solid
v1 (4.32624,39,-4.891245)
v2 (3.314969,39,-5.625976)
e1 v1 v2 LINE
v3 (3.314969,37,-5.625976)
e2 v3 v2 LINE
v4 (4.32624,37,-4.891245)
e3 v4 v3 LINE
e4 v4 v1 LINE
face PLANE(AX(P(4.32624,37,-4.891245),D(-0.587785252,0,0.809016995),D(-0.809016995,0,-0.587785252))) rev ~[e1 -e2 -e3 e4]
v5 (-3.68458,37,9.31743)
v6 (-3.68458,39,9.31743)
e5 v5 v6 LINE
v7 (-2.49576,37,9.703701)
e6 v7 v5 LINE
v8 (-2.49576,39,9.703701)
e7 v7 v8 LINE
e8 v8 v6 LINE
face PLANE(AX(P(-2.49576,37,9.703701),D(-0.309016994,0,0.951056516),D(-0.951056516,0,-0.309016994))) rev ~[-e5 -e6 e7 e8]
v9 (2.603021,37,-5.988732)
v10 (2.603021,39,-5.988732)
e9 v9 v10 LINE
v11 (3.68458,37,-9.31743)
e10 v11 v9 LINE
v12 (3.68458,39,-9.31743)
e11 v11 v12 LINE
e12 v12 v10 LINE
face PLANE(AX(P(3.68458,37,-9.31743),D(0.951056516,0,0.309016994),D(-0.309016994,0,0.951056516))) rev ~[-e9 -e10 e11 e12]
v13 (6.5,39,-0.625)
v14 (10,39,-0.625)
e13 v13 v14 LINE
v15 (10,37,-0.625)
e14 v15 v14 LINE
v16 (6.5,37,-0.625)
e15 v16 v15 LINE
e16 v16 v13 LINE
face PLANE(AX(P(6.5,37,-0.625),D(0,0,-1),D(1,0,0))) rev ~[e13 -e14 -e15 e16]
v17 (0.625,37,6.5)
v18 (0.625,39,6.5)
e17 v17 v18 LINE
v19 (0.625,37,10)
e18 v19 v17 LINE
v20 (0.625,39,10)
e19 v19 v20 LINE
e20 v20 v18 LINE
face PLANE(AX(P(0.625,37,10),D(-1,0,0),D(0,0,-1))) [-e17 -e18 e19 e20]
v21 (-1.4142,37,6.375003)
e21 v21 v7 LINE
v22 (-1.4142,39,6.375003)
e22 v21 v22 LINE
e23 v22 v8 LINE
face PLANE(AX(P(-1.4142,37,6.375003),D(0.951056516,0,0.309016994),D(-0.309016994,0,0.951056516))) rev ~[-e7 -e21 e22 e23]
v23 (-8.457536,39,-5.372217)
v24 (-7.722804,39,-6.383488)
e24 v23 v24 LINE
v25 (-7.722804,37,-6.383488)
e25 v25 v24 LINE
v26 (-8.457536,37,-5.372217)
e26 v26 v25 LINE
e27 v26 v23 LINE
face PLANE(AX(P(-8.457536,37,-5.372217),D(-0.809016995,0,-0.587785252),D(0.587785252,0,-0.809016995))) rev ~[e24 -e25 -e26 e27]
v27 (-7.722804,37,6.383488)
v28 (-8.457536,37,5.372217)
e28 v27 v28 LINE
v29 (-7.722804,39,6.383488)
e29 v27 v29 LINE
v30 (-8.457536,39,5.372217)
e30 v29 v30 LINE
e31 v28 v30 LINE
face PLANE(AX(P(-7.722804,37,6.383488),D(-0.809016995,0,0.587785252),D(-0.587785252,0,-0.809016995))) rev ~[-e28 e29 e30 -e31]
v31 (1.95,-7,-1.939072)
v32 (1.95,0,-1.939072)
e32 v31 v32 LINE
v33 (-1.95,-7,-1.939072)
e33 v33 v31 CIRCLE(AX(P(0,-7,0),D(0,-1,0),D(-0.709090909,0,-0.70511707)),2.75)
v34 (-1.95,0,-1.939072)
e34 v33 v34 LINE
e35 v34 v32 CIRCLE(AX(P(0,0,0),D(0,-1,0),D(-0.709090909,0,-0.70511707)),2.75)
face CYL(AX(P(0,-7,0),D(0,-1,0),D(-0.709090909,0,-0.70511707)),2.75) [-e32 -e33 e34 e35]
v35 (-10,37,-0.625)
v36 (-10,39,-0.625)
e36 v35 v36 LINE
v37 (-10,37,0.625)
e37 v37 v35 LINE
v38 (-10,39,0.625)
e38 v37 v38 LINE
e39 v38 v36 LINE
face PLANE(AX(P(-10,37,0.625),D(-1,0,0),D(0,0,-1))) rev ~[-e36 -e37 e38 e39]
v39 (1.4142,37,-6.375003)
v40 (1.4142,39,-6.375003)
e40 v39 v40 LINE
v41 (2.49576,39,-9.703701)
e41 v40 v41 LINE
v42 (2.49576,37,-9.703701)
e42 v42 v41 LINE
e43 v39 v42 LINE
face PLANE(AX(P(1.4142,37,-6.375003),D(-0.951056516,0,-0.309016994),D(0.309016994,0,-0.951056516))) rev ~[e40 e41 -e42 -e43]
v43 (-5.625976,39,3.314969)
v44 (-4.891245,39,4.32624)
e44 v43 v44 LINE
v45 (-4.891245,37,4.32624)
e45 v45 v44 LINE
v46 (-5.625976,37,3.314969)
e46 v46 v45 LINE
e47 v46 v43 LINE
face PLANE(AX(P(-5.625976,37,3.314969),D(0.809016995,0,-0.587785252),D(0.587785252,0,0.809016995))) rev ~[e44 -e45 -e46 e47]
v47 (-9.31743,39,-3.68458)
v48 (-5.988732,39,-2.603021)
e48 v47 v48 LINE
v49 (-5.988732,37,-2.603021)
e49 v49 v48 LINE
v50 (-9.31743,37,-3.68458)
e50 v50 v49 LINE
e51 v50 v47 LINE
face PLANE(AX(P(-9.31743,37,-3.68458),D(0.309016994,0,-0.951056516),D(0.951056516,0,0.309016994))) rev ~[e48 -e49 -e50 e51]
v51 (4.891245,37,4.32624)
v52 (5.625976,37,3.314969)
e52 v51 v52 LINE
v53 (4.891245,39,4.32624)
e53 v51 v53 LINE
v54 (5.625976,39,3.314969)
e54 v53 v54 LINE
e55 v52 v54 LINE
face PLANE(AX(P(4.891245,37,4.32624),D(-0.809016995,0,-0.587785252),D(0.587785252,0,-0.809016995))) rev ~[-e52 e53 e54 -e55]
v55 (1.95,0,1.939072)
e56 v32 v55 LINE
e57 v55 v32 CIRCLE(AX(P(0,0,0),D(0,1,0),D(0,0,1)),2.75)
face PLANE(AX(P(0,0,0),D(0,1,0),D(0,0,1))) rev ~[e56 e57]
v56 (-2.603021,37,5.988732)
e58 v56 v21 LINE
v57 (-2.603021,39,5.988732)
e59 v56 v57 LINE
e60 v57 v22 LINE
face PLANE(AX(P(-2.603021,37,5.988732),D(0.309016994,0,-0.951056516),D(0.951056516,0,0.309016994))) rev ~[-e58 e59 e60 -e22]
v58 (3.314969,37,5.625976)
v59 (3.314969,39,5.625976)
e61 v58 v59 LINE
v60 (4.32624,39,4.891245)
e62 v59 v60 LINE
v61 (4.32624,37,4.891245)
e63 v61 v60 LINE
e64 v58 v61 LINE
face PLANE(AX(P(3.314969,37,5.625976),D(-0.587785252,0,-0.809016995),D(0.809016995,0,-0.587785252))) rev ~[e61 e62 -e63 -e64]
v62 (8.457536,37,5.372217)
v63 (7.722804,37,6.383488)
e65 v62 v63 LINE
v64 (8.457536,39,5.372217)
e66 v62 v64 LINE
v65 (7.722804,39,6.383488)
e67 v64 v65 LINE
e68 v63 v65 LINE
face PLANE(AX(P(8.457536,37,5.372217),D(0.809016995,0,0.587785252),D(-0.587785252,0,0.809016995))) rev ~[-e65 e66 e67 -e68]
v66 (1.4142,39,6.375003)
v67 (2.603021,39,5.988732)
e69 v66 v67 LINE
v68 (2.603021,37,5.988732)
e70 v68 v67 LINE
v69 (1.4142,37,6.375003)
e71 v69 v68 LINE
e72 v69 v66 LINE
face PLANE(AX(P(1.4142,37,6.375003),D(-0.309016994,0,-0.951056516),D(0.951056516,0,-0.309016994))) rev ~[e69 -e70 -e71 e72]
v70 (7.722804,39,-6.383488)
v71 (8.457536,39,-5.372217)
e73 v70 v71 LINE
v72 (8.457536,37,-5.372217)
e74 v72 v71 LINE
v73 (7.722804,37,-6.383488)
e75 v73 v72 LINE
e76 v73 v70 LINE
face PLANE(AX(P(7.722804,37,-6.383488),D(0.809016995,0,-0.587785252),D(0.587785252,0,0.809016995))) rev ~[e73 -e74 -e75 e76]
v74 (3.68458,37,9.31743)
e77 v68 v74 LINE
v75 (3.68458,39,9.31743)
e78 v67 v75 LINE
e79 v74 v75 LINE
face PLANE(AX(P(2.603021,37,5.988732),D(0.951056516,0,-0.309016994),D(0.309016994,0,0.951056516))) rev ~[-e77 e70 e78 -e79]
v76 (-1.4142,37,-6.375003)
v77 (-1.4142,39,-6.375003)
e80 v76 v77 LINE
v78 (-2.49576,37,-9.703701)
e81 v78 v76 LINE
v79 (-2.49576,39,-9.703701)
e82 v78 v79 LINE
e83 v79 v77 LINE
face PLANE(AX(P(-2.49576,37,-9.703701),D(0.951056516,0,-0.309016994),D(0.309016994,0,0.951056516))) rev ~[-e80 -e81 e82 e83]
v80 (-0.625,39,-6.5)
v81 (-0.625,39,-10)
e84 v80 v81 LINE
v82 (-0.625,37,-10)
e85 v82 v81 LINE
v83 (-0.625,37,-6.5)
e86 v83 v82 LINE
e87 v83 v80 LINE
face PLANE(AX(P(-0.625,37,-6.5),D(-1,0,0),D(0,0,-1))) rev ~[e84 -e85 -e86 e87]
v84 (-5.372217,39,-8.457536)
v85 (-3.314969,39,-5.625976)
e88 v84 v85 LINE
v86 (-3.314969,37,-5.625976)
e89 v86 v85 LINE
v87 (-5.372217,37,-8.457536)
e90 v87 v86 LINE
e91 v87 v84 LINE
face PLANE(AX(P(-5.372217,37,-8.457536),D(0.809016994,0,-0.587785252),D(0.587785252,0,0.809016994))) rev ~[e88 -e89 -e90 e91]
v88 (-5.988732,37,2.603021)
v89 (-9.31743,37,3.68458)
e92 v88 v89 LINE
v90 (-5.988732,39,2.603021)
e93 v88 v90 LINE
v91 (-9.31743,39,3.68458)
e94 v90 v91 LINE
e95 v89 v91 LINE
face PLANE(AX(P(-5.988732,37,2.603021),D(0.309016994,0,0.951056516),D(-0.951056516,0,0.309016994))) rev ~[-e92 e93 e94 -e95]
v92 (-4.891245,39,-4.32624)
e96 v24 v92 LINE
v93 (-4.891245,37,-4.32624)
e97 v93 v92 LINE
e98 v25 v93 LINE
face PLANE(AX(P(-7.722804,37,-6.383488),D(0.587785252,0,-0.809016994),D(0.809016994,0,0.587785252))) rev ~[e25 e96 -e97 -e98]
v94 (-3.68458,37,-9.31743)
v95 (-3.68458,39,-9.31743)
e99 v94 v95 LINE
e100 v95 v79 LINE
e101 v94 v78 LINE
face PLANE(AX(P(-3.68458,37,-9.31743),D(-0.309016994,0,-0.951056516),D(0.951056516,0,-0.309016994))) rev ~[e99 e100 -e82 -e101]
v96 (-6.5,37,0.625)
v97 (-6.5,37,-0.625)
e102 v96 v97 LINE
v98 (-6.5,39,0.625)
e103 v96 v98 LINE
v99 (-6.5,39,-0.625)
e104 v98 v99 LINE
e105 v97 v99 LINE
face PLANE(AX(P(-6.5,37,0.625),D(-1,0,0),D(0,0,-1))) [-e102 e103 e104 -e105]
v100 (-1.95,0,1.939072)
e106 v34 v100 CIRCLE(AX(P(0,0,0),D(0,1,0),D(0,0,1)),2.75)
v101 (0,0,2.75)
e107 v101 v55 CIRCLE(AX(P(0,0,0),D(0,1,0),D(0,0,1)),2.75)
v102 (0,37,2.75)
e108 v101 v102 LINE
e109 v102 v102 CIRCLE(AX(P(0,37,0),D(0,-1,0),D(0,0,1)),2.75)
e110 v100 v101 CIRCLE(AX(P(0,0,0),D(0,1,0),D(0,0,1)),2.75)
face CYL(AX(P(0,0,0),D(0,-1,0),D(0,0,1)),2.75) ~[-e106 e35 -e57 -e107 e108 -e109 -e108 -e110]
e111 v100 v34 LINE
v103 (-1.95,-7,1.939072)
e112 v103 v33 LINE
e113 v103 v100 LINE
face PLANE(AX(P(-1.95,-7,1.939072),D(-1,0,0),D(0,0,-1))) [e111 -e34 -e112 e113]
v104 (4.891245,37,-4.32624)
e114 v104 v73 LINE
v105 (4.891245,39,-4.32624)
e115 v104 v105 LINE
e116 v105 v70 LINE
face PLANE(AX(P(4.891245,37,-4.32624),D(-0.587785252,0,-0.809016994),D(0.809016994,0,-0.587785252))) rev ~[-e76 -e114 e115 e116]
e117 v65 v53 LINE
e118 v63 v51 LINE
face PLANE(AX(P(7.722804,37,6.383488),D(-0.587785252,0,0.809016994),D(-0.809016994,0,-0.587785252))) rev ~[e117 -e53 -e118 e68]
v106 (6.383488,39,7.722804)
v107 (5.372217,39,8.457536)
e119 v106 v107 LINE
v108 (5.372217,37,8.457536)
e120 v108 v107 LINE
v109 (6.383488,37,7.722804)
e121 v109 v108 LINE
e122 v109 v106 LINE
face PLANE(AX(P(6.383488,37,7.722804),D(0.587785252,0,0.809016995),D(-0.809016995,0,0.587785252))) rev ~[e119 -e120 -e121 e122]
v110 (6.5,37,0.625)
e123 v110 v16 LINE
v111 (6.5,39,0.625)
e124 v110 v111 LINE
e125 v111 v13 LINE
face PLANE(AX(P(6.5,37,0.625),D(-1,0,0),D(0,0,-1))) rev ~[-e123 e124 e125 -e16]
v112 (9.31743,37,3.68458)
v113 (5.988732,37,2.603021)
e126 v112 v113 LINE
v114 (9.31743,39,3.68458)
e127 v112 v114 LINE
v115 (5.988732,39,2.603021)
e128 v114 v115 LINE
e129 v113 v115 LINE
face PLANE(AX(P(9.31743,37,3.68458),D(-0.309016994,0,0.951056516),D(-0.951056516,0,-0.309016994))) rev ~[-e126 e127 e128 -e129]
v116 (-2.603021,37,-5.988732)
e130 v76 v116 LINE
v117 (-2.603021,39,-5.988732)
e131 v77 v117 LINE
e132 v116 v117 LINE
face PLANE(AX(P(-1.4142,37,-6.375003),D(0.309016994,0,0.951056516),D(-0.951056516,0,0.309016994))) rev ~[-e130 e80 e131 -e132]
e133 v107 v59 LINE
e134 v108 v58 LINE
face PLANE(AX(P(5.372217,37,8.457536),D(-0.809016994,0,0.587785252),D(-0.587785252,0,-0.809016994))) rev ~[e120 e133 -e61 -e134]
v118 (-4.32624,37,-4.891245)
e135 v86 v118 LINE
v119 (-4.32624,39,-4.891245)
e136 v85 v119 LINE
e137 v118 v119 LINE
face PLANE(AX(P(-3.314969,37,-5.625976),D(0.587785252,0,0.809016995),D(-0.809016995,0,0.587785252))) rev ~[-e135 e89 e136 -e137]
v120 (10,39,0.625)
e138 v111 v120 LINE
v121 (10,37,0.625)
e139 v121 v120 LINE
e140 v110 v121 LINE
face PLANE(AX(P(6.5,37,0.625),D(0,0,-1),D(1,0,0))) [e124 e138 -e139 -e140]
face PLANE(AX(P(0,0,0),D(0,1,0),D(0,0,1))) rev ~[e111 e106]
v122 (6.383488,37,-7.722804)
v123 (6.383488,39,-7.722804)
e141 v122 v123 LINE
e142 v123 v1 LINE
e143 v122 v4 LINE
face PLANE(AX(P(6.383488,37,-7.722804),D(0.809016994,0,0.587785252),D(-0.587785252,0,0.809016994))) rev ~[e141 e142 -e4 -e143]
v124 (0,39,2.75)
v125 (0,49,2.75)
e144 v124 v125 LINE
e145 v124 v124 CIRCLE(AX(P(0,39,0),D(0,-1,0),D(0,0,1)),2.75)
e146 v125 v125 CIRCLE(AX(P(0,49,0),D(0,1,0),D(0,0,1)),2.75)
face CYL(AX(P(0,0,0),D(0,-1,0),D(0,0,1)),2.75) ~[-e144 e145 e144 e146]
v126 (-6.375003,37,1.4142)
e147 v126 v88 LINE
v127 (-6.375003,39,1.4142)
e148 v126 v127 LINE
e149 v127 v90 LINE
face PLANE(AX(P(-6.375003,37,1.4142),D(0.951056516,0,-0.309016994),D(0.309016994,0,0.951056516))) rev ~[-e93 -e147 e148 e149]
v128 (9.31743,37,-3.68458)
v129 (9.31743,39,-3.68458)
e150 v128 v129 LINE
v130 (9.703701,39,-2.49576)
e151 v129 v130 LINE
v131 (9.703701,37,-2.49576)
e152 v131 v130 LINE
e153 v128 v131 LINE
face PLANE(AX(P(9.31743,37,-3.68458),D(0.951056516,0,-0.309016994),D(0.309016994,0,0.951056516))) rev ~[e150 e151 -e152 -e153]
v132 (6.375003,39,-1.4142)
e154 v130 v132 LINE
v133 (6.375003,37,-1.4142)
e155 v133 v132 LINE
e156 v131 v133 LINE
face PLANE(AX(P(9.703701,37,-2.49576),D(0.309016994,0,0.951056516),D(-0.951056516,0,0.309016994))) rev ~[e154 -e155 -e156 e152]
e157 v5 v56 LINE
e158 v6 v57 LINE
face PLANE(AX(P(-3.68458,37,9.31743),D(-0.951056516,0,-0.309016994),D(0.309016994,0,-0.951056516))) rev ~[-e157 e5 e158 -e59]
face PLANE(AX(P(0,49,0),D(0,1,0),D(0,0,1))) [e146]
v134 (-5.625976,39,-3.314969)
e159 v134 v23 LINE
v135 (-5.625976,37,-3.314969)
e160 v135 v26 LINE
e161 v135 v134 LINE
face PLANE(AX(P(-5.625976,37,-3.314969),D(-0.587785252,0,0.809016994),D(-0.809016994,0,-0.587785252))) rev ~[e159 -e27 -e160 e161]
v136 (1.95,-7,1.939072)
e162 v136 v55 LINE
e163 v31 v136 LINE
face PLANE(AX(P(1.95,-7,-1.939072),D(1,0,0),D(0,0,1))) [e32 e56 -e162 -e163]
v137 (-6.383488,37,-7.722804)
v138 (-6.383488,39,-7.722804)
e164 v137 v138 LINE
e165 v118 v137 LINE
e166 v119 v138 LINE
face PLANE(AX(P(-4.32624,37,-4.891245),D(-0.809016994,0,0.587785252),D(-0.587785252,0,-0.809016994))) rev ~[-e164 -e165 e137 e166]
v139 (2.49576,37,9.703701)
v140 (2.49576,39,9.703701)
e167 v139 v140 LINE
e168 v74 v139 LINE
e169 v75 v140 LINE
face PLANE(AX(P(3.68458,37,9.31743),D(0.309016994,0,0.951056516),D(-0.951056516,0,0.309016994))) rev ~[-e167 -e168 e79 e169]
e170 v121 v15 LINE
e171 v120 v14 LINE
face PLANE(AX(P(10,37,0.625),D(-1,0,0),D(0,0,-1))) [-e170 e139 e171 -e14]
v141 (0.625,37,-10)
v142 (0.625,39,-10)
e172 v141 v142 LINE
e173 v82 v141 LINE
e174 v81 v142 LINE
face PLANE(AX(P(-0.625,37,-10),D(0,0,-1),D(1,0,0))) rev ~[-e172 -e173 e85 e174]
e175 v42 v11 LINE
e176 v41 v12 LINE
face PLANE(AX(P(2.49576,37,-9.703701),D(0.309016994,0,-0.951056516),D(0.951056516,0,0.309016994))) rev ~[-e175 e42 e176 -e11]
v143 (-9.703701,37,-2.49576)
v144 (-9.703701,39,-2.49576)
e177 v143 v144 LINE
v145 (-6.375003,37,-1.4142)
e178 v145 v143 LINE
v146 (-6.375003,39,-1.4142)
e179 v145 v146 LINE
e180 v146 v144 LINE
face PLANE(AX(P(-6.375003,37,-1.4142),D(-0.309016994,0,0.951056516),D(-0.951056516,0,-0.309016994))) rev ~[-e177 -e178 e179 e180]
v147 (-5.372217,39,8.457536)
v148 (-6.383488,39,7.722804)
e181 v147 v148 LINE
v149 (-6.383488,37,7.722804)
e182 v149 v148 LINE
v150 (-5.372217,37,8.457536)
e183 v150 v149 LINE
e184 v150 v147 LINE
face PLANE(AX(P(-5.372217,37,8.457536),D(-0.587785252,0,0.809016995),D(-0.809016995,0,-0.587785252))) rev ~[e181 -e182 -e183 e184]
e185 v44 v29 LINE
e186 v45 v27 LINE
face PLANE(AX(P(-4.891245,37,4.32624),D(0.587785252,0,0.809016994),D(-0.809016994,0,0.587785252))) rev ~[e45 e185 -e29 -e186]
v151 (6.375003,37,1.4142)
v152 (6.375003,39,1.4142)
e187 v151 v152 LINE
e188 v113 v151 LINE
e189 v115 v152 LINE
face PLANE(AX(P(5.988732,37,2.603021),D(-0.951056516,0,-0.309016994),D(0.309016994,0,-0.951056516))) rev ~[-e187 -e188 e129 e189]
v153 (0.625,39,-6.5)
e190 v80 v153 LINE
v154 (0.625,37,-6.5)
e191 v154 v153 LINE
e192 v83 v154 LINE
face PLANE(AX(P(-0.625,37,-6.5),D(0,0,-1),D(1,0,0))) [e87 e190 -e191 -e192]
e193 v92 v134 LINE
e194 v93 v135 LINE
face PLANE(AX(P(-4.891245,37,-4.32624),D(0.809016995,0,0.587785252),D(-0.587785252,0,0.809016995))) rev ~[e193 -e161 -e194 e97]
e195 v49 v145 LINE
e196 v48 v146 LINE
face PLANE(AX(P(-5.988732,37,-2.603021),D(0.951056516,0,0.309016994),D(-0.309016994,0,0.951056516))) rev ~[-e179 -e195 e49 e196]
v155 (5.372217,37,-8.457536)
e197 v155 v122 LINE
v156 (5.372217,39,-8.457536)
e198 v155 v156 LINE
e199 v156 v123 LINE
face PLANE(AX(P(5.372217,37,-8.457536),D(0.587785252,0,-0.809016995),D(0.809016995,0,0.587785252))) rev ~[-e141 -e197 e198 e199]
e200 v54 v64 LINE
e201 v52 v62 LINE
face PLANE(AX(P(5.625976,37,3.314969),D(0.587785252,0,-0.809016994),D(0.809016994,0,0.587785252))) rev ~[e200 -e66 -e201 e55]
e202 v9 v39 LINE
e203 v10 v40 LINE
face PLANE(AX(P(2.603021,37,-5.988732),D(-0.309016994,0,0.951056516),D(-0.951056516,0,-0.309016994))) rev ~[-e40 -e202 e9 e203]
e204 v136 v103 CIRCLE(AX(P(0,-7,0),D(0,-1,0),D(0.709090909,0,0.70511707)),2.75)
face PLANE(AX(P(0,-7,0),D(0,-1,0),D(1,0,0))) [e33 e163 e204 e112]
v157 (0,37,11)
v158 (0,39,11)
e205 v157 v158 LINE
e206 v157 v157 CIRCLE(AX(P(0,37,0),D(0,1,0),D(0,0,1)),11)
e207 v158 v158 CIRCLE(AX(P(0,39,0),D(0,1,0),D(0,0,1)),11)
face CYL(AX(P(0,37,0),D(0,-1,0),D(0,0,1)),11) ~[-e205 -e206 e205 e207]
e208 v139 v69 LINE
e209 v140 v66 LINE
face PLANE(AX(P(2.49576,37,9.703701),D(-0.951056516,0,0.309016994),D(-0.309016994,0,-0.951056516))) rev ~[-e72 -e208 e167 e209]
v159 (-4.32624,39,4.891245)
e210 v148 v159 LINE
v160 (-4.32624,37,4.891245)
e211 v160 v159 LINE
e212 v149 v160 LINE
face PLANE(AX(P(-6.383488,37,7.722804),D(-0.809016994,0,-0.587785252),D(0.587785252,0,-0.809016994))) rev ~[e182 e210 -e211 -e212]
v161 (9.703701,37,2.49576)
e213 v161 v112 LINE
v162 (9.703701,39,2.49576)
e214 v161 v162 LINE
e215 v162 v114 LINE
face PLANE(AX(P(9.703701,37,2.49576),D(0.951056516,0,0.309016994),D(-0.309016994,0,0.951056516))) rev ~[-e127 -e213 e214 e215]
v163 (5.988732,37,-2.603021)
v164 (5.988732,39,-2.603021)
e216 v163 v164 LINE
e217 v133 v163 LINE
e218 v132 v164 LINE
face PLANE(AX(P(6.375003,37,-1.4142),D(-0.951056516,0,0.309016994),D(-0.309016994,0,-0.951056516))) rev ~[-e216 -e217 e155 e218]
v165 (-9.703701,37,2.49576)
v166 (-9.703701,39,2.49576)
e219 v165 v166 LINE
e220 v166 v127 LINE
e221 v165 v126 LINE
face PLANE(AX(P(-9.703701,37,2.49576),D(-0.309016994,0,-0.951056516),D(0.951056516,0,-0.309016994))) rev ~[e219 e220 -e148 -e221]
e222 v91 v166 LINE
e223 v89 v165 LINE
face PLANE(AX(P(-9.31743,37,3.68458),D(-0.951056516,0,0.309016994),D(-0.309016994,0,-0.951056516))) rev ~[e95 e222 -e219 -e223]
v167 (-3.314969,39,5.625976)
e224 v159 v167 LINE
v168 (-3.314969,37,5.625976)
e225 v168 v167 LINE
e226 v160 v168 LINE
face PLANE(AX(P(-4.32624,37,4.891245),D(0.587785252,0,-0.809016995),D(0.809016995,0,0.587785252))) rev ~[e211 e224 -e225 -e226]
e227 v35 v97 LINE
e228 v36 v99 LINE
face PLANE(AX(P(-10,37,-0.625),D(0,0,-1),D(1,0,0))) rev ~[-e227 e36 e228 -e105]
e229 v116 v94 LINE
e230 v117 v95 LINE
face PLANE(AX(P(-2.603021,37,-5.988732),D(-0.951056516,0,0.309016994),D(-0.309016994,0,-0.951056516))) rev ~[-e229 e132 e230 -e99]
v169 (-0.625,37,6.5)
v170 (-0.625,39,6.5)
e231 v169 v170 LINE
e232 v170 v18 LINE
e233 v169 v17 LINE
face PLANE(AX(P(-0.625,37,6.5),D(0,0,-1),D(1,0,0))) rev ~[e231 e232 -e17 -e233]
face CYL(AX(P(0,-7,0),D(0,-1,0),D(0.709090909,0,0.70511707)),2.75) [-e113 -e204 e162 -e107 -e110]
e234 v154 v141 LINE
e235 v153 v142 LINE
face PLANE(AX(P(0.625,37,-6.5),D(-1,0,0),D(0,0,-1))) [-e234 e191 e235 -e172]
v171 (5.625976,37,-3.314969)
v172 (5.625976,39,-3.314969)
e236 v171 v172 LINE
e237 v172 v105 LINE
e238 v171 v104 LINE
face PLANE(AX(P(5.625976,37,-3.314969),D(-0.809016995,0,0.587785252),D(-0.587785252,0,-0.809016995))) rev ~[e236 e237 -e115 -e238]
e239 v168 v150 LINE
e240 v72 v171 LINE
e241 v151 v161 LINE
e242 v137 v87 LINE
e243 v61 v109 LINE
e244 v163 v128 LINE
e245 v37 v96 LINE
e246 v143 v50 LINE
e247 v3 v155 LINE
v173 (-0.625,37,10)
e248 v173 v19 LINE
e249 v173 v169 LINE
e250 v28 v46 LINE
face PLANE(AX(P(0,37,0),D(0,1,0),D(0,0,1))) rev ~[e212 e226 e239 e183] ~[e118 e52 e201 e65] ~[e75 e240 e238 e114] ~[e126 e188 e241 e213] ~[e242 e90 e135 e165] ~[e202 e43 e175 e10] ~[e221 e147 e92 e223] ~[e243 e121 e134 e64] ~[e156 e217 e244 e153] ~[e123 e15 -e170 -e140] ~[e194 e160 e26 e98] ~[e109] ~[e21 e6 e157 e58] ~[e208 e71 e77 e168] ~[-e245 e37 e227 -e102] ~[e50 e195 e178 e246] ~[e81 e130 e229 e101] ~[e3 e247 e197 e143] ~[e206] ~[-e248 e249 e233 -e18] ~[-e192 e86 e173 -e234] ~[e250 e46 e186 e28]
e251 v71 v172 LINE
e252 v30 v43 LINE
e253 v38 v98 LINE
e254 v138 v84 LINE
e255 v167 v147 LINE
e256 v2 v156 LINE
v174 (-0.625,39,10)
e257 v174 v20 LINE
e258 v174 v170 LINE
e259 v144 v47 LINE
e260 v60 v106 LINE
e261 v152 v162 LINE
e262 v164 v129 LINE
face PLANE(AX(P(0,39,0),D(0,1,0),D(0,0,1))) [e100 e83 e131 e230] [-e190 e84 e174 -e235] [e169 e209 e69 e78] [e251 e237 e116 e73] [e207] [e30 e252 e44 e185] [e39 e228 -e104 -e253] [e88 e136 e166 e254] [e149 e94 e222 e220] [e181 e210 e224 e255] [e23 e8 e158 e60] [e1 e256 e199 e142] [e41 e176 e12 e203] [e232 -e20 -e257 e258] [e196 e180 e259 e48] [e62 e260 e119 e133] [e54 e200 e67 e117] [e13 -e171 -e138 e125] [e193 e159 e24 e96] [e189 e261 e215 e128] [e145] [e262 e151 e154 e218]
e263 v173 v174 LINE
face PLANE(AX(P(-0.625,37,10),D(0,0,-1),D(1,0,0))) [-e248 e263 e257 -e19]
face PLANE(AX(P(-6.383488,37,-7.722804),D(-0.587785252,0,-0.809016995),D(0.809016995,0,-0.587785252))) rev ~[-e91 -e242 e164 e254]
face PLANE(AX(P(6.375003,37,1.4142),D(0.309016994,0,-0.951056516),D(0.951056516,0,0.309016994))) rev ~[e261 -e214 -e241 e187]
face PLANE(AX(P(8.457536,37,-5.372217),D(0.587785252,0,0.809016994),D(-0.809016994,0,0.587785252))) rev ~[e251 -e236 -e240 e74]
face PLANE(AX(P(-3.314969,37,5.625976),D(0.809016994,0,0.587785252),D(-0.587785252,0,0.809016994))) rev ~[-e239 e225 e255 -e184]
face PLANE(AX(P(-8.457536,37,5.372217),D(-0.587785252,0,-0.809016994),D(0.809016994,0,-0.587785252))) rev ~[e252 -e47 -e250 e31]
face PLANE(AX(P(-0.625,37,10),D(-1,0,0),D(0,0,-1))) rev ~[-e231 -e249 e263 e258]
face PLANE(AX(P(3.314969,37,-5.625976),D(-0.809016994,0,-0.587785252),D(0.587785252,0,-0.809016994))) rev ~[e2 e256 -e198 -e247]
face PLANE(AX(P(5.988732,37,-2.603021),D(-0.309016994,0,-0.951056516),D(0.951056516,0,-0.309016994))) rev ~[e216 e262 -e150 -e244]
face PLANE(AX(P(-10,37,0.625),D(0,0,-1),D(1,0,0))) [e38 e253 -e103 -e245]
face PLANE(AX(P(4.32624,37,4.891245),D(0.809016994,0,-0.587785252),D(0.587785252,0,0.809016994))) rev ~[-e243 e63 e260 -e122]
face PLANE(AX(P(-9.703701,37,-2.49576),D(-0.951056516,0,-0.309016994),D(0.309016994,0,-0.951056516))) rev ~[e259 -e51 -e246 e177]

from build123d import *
from build123d.topology import SkipClean

# Parameters (mm, degrees)
SKETCH_1_R      = 2.75
EXTRUDE_1_DEPTH = 49
EXTRUDE_START   = 7
EXTRUDE_2_DEPTH = 7
EXTRUDE_START_2 = -12
SKETCH_6_R      = 11
SKETCH_6_W      = 1.25
SKETCH_6_H      = 3.5
SKETCH_6_W_2    = 3.5
SKETCH_6_H_2    = 1.25
EXTRUDE_4_DEPTH = 2


with BuildPart() as part:
    # 草图1 → 凸台-拉伸1 (new body)
    with BuildSketch(Plane(origin=(0, 0, 0), x_dir=(1, 0, 0), z_dir=(0, 1, 0))):
        Circle(SKETCH_1_R)
    extrude(amount=EXTRUDE_1_DEPTH)

    # 草图2 → 凸台-拉伸2 (add)
    with SkipClean():  # the faces are left unmerged after this step: merging them gives an invalid solid
        with BuildSketch(Plane.XZ.offset(EXTRUDE_START)):
            with BuildLine():
                Line((-1.95, 1.939071943), (-1.95, -1.939071943))
                ThreePointArc((-1.95, -1.939071943), (0, -2.75), (1.95, -1.939071943))
                Line((1.95, -1.939071943), (1.95, 1.939071943))
                ThreePointArc((1.95, 1.939071943), (0, 2.75), (-1.95, 1.939071943))
            make_face()
        extrude(amount=-EXTRUDE_2_DEPTH)

    # 草图6 → 凸台-拉伸4 (add)
    with SkipClean():  # the faces are left unmerged after this step: merging them gives an invalid solid
        with BuildSketch(Plane(origin=(0, 49, 0), x_dir=(1, 0, 0), z_dir=(0, 1, 0)).offset(EXTRUDE_START_2)):
            Circle(SKETCH_6_R)
            Polygon((2.495759621, 9.703700784), (3.684580266, 9.317429541), (2.603020786, 5.988731734), (1.414200141, 6.375002977), align=None, mode=Mode.SUBTRACT)
            with Locations((0, 8.25)):
                Rectangle(SKETCH_6_W, SKETCH_6_H, mode=Mode.SUBTRACT)
            Polygon((5.372216901, 8.457535726), (6.383488144, 7.722804161), (4.326239761, 4.891244681), (3.314968518, 5.625976246), align=None, mode=Mode.SUBTRACT)
            Polygon((7.722804161, 6.383488144), (8.457535726, 5.372216901), (5.625976246, 3.314968518), (4.891244681, 4.326239761), align=None, mode=Mode.SUBTRACT)
            Polygon((9.317429541, 3.684580266), (9.703700784, 2.495759621), (6.375002977, 1.414200141), (5.988731734, 2.603020786), align=None, mode=Mode.SUBTRACT)
            with Locations((8.25, 0)):
                Rectangle(SKETCH_6_W_2, SKETCH_6_H_2, mode=Mode.SUBTRACT)
            Polygon((9.703700784, -2.495759621), (9.317429541, -3.684580266), (5.988731734, -2.603020786), (6.375002977, -1.414200141), align=None, mode=Mode.SUBTRACT)
            Polygon((8.457535726, -5.372216901), (7.722804161, -6.383488144), (4.891244681, -4.326239761), (5.625976246, -3.314968518), align=None, mode=Mode.SUBTRACT)
            Polygon((6.383488144, -7.722804161), (5.372216901, -8.457535726), (3.314968518, -5.625976246), (4.326239761, -4.891244681), align=None, mode=Mode.SUBTRACT)
            Polygon((3.684580266, -9.317429541), (2.495759621, -9.703700784), (1.414200141, -6.375002977), (2.603020786, -5.988731734), align=None, mode=Mode.SUBTRACT)
            with Locations((0, -8.25)):
                Rectangle(SKETCH_6_W, SKETCH_6_H, mode=Mode.SUBTRACT)
            Polygon((-2.495759621, -9.703700784), (-3.684580266, -9.317429541), (-2.603020786, -5.988731734), (-1.414200141, -6.375002977), align=None, mode=Mode.SUBTRACT)
            Polygon((-5.372216901, -8.457535726), (-6.383488144, -7.722804161), (-4.326239761, -4.891244681), (-3.314968518, -5.625976246), align=None, mode=Mode.SUBTRACT)
            Polygon((-7.722804161, -6.383488144), (-8.457535726, -5.372216901), (-5.625976246, -3.314968518), (-4.891244681, -4.326239761), align=None, mode=Mode.SUBTRACT)
            Polygon((-9.317429541, -3.684580266), (-9.703700784, -2.495759621), (-6.375002977, -1.414200141), (-5.988731734, -2.603020786), align=None, mode=Mode.SUBTRACT)
            with Locations((-8.25, 0)):
                Rectangle(SKETCH_6_W_2, SKETCH_6_H_2, mode=Mode.SUBTRACT)
            Polygon((-9.703700784, 2.495759621), (-9.317429541, 3.684580266), (-5.988731734, 2.603020786), (-6.375002977, 1.414200141), align=None, mode=Mode.SUBTRACT)
            Polygon((-8.457535726, 5.372216901), (-7.722804161, 6.383488144), (-4.891244681, 4.326239761), (-5.625976246, 3.314968518), align=None, mode=Mode.SUBTRACT)
            Polygon((-6.383488144, 7.722804161), (-5.372216901, 8.457535726), (-3.314968518, 5.625976246), (-4.326239761, 4.891244681), align=None, mode=Mode.SUBTRACT)
            Polygon((-3.684580266, 9.317429541), (-2.495759621, 9.703700784), (-1.414200141, 6.375002977), (-2.603020786, 5.988731734), align=None, mode=Mode.SUBTRACT)
        extrude(amount=EXTRUDE_4_DEPTH)


solid = part.part
